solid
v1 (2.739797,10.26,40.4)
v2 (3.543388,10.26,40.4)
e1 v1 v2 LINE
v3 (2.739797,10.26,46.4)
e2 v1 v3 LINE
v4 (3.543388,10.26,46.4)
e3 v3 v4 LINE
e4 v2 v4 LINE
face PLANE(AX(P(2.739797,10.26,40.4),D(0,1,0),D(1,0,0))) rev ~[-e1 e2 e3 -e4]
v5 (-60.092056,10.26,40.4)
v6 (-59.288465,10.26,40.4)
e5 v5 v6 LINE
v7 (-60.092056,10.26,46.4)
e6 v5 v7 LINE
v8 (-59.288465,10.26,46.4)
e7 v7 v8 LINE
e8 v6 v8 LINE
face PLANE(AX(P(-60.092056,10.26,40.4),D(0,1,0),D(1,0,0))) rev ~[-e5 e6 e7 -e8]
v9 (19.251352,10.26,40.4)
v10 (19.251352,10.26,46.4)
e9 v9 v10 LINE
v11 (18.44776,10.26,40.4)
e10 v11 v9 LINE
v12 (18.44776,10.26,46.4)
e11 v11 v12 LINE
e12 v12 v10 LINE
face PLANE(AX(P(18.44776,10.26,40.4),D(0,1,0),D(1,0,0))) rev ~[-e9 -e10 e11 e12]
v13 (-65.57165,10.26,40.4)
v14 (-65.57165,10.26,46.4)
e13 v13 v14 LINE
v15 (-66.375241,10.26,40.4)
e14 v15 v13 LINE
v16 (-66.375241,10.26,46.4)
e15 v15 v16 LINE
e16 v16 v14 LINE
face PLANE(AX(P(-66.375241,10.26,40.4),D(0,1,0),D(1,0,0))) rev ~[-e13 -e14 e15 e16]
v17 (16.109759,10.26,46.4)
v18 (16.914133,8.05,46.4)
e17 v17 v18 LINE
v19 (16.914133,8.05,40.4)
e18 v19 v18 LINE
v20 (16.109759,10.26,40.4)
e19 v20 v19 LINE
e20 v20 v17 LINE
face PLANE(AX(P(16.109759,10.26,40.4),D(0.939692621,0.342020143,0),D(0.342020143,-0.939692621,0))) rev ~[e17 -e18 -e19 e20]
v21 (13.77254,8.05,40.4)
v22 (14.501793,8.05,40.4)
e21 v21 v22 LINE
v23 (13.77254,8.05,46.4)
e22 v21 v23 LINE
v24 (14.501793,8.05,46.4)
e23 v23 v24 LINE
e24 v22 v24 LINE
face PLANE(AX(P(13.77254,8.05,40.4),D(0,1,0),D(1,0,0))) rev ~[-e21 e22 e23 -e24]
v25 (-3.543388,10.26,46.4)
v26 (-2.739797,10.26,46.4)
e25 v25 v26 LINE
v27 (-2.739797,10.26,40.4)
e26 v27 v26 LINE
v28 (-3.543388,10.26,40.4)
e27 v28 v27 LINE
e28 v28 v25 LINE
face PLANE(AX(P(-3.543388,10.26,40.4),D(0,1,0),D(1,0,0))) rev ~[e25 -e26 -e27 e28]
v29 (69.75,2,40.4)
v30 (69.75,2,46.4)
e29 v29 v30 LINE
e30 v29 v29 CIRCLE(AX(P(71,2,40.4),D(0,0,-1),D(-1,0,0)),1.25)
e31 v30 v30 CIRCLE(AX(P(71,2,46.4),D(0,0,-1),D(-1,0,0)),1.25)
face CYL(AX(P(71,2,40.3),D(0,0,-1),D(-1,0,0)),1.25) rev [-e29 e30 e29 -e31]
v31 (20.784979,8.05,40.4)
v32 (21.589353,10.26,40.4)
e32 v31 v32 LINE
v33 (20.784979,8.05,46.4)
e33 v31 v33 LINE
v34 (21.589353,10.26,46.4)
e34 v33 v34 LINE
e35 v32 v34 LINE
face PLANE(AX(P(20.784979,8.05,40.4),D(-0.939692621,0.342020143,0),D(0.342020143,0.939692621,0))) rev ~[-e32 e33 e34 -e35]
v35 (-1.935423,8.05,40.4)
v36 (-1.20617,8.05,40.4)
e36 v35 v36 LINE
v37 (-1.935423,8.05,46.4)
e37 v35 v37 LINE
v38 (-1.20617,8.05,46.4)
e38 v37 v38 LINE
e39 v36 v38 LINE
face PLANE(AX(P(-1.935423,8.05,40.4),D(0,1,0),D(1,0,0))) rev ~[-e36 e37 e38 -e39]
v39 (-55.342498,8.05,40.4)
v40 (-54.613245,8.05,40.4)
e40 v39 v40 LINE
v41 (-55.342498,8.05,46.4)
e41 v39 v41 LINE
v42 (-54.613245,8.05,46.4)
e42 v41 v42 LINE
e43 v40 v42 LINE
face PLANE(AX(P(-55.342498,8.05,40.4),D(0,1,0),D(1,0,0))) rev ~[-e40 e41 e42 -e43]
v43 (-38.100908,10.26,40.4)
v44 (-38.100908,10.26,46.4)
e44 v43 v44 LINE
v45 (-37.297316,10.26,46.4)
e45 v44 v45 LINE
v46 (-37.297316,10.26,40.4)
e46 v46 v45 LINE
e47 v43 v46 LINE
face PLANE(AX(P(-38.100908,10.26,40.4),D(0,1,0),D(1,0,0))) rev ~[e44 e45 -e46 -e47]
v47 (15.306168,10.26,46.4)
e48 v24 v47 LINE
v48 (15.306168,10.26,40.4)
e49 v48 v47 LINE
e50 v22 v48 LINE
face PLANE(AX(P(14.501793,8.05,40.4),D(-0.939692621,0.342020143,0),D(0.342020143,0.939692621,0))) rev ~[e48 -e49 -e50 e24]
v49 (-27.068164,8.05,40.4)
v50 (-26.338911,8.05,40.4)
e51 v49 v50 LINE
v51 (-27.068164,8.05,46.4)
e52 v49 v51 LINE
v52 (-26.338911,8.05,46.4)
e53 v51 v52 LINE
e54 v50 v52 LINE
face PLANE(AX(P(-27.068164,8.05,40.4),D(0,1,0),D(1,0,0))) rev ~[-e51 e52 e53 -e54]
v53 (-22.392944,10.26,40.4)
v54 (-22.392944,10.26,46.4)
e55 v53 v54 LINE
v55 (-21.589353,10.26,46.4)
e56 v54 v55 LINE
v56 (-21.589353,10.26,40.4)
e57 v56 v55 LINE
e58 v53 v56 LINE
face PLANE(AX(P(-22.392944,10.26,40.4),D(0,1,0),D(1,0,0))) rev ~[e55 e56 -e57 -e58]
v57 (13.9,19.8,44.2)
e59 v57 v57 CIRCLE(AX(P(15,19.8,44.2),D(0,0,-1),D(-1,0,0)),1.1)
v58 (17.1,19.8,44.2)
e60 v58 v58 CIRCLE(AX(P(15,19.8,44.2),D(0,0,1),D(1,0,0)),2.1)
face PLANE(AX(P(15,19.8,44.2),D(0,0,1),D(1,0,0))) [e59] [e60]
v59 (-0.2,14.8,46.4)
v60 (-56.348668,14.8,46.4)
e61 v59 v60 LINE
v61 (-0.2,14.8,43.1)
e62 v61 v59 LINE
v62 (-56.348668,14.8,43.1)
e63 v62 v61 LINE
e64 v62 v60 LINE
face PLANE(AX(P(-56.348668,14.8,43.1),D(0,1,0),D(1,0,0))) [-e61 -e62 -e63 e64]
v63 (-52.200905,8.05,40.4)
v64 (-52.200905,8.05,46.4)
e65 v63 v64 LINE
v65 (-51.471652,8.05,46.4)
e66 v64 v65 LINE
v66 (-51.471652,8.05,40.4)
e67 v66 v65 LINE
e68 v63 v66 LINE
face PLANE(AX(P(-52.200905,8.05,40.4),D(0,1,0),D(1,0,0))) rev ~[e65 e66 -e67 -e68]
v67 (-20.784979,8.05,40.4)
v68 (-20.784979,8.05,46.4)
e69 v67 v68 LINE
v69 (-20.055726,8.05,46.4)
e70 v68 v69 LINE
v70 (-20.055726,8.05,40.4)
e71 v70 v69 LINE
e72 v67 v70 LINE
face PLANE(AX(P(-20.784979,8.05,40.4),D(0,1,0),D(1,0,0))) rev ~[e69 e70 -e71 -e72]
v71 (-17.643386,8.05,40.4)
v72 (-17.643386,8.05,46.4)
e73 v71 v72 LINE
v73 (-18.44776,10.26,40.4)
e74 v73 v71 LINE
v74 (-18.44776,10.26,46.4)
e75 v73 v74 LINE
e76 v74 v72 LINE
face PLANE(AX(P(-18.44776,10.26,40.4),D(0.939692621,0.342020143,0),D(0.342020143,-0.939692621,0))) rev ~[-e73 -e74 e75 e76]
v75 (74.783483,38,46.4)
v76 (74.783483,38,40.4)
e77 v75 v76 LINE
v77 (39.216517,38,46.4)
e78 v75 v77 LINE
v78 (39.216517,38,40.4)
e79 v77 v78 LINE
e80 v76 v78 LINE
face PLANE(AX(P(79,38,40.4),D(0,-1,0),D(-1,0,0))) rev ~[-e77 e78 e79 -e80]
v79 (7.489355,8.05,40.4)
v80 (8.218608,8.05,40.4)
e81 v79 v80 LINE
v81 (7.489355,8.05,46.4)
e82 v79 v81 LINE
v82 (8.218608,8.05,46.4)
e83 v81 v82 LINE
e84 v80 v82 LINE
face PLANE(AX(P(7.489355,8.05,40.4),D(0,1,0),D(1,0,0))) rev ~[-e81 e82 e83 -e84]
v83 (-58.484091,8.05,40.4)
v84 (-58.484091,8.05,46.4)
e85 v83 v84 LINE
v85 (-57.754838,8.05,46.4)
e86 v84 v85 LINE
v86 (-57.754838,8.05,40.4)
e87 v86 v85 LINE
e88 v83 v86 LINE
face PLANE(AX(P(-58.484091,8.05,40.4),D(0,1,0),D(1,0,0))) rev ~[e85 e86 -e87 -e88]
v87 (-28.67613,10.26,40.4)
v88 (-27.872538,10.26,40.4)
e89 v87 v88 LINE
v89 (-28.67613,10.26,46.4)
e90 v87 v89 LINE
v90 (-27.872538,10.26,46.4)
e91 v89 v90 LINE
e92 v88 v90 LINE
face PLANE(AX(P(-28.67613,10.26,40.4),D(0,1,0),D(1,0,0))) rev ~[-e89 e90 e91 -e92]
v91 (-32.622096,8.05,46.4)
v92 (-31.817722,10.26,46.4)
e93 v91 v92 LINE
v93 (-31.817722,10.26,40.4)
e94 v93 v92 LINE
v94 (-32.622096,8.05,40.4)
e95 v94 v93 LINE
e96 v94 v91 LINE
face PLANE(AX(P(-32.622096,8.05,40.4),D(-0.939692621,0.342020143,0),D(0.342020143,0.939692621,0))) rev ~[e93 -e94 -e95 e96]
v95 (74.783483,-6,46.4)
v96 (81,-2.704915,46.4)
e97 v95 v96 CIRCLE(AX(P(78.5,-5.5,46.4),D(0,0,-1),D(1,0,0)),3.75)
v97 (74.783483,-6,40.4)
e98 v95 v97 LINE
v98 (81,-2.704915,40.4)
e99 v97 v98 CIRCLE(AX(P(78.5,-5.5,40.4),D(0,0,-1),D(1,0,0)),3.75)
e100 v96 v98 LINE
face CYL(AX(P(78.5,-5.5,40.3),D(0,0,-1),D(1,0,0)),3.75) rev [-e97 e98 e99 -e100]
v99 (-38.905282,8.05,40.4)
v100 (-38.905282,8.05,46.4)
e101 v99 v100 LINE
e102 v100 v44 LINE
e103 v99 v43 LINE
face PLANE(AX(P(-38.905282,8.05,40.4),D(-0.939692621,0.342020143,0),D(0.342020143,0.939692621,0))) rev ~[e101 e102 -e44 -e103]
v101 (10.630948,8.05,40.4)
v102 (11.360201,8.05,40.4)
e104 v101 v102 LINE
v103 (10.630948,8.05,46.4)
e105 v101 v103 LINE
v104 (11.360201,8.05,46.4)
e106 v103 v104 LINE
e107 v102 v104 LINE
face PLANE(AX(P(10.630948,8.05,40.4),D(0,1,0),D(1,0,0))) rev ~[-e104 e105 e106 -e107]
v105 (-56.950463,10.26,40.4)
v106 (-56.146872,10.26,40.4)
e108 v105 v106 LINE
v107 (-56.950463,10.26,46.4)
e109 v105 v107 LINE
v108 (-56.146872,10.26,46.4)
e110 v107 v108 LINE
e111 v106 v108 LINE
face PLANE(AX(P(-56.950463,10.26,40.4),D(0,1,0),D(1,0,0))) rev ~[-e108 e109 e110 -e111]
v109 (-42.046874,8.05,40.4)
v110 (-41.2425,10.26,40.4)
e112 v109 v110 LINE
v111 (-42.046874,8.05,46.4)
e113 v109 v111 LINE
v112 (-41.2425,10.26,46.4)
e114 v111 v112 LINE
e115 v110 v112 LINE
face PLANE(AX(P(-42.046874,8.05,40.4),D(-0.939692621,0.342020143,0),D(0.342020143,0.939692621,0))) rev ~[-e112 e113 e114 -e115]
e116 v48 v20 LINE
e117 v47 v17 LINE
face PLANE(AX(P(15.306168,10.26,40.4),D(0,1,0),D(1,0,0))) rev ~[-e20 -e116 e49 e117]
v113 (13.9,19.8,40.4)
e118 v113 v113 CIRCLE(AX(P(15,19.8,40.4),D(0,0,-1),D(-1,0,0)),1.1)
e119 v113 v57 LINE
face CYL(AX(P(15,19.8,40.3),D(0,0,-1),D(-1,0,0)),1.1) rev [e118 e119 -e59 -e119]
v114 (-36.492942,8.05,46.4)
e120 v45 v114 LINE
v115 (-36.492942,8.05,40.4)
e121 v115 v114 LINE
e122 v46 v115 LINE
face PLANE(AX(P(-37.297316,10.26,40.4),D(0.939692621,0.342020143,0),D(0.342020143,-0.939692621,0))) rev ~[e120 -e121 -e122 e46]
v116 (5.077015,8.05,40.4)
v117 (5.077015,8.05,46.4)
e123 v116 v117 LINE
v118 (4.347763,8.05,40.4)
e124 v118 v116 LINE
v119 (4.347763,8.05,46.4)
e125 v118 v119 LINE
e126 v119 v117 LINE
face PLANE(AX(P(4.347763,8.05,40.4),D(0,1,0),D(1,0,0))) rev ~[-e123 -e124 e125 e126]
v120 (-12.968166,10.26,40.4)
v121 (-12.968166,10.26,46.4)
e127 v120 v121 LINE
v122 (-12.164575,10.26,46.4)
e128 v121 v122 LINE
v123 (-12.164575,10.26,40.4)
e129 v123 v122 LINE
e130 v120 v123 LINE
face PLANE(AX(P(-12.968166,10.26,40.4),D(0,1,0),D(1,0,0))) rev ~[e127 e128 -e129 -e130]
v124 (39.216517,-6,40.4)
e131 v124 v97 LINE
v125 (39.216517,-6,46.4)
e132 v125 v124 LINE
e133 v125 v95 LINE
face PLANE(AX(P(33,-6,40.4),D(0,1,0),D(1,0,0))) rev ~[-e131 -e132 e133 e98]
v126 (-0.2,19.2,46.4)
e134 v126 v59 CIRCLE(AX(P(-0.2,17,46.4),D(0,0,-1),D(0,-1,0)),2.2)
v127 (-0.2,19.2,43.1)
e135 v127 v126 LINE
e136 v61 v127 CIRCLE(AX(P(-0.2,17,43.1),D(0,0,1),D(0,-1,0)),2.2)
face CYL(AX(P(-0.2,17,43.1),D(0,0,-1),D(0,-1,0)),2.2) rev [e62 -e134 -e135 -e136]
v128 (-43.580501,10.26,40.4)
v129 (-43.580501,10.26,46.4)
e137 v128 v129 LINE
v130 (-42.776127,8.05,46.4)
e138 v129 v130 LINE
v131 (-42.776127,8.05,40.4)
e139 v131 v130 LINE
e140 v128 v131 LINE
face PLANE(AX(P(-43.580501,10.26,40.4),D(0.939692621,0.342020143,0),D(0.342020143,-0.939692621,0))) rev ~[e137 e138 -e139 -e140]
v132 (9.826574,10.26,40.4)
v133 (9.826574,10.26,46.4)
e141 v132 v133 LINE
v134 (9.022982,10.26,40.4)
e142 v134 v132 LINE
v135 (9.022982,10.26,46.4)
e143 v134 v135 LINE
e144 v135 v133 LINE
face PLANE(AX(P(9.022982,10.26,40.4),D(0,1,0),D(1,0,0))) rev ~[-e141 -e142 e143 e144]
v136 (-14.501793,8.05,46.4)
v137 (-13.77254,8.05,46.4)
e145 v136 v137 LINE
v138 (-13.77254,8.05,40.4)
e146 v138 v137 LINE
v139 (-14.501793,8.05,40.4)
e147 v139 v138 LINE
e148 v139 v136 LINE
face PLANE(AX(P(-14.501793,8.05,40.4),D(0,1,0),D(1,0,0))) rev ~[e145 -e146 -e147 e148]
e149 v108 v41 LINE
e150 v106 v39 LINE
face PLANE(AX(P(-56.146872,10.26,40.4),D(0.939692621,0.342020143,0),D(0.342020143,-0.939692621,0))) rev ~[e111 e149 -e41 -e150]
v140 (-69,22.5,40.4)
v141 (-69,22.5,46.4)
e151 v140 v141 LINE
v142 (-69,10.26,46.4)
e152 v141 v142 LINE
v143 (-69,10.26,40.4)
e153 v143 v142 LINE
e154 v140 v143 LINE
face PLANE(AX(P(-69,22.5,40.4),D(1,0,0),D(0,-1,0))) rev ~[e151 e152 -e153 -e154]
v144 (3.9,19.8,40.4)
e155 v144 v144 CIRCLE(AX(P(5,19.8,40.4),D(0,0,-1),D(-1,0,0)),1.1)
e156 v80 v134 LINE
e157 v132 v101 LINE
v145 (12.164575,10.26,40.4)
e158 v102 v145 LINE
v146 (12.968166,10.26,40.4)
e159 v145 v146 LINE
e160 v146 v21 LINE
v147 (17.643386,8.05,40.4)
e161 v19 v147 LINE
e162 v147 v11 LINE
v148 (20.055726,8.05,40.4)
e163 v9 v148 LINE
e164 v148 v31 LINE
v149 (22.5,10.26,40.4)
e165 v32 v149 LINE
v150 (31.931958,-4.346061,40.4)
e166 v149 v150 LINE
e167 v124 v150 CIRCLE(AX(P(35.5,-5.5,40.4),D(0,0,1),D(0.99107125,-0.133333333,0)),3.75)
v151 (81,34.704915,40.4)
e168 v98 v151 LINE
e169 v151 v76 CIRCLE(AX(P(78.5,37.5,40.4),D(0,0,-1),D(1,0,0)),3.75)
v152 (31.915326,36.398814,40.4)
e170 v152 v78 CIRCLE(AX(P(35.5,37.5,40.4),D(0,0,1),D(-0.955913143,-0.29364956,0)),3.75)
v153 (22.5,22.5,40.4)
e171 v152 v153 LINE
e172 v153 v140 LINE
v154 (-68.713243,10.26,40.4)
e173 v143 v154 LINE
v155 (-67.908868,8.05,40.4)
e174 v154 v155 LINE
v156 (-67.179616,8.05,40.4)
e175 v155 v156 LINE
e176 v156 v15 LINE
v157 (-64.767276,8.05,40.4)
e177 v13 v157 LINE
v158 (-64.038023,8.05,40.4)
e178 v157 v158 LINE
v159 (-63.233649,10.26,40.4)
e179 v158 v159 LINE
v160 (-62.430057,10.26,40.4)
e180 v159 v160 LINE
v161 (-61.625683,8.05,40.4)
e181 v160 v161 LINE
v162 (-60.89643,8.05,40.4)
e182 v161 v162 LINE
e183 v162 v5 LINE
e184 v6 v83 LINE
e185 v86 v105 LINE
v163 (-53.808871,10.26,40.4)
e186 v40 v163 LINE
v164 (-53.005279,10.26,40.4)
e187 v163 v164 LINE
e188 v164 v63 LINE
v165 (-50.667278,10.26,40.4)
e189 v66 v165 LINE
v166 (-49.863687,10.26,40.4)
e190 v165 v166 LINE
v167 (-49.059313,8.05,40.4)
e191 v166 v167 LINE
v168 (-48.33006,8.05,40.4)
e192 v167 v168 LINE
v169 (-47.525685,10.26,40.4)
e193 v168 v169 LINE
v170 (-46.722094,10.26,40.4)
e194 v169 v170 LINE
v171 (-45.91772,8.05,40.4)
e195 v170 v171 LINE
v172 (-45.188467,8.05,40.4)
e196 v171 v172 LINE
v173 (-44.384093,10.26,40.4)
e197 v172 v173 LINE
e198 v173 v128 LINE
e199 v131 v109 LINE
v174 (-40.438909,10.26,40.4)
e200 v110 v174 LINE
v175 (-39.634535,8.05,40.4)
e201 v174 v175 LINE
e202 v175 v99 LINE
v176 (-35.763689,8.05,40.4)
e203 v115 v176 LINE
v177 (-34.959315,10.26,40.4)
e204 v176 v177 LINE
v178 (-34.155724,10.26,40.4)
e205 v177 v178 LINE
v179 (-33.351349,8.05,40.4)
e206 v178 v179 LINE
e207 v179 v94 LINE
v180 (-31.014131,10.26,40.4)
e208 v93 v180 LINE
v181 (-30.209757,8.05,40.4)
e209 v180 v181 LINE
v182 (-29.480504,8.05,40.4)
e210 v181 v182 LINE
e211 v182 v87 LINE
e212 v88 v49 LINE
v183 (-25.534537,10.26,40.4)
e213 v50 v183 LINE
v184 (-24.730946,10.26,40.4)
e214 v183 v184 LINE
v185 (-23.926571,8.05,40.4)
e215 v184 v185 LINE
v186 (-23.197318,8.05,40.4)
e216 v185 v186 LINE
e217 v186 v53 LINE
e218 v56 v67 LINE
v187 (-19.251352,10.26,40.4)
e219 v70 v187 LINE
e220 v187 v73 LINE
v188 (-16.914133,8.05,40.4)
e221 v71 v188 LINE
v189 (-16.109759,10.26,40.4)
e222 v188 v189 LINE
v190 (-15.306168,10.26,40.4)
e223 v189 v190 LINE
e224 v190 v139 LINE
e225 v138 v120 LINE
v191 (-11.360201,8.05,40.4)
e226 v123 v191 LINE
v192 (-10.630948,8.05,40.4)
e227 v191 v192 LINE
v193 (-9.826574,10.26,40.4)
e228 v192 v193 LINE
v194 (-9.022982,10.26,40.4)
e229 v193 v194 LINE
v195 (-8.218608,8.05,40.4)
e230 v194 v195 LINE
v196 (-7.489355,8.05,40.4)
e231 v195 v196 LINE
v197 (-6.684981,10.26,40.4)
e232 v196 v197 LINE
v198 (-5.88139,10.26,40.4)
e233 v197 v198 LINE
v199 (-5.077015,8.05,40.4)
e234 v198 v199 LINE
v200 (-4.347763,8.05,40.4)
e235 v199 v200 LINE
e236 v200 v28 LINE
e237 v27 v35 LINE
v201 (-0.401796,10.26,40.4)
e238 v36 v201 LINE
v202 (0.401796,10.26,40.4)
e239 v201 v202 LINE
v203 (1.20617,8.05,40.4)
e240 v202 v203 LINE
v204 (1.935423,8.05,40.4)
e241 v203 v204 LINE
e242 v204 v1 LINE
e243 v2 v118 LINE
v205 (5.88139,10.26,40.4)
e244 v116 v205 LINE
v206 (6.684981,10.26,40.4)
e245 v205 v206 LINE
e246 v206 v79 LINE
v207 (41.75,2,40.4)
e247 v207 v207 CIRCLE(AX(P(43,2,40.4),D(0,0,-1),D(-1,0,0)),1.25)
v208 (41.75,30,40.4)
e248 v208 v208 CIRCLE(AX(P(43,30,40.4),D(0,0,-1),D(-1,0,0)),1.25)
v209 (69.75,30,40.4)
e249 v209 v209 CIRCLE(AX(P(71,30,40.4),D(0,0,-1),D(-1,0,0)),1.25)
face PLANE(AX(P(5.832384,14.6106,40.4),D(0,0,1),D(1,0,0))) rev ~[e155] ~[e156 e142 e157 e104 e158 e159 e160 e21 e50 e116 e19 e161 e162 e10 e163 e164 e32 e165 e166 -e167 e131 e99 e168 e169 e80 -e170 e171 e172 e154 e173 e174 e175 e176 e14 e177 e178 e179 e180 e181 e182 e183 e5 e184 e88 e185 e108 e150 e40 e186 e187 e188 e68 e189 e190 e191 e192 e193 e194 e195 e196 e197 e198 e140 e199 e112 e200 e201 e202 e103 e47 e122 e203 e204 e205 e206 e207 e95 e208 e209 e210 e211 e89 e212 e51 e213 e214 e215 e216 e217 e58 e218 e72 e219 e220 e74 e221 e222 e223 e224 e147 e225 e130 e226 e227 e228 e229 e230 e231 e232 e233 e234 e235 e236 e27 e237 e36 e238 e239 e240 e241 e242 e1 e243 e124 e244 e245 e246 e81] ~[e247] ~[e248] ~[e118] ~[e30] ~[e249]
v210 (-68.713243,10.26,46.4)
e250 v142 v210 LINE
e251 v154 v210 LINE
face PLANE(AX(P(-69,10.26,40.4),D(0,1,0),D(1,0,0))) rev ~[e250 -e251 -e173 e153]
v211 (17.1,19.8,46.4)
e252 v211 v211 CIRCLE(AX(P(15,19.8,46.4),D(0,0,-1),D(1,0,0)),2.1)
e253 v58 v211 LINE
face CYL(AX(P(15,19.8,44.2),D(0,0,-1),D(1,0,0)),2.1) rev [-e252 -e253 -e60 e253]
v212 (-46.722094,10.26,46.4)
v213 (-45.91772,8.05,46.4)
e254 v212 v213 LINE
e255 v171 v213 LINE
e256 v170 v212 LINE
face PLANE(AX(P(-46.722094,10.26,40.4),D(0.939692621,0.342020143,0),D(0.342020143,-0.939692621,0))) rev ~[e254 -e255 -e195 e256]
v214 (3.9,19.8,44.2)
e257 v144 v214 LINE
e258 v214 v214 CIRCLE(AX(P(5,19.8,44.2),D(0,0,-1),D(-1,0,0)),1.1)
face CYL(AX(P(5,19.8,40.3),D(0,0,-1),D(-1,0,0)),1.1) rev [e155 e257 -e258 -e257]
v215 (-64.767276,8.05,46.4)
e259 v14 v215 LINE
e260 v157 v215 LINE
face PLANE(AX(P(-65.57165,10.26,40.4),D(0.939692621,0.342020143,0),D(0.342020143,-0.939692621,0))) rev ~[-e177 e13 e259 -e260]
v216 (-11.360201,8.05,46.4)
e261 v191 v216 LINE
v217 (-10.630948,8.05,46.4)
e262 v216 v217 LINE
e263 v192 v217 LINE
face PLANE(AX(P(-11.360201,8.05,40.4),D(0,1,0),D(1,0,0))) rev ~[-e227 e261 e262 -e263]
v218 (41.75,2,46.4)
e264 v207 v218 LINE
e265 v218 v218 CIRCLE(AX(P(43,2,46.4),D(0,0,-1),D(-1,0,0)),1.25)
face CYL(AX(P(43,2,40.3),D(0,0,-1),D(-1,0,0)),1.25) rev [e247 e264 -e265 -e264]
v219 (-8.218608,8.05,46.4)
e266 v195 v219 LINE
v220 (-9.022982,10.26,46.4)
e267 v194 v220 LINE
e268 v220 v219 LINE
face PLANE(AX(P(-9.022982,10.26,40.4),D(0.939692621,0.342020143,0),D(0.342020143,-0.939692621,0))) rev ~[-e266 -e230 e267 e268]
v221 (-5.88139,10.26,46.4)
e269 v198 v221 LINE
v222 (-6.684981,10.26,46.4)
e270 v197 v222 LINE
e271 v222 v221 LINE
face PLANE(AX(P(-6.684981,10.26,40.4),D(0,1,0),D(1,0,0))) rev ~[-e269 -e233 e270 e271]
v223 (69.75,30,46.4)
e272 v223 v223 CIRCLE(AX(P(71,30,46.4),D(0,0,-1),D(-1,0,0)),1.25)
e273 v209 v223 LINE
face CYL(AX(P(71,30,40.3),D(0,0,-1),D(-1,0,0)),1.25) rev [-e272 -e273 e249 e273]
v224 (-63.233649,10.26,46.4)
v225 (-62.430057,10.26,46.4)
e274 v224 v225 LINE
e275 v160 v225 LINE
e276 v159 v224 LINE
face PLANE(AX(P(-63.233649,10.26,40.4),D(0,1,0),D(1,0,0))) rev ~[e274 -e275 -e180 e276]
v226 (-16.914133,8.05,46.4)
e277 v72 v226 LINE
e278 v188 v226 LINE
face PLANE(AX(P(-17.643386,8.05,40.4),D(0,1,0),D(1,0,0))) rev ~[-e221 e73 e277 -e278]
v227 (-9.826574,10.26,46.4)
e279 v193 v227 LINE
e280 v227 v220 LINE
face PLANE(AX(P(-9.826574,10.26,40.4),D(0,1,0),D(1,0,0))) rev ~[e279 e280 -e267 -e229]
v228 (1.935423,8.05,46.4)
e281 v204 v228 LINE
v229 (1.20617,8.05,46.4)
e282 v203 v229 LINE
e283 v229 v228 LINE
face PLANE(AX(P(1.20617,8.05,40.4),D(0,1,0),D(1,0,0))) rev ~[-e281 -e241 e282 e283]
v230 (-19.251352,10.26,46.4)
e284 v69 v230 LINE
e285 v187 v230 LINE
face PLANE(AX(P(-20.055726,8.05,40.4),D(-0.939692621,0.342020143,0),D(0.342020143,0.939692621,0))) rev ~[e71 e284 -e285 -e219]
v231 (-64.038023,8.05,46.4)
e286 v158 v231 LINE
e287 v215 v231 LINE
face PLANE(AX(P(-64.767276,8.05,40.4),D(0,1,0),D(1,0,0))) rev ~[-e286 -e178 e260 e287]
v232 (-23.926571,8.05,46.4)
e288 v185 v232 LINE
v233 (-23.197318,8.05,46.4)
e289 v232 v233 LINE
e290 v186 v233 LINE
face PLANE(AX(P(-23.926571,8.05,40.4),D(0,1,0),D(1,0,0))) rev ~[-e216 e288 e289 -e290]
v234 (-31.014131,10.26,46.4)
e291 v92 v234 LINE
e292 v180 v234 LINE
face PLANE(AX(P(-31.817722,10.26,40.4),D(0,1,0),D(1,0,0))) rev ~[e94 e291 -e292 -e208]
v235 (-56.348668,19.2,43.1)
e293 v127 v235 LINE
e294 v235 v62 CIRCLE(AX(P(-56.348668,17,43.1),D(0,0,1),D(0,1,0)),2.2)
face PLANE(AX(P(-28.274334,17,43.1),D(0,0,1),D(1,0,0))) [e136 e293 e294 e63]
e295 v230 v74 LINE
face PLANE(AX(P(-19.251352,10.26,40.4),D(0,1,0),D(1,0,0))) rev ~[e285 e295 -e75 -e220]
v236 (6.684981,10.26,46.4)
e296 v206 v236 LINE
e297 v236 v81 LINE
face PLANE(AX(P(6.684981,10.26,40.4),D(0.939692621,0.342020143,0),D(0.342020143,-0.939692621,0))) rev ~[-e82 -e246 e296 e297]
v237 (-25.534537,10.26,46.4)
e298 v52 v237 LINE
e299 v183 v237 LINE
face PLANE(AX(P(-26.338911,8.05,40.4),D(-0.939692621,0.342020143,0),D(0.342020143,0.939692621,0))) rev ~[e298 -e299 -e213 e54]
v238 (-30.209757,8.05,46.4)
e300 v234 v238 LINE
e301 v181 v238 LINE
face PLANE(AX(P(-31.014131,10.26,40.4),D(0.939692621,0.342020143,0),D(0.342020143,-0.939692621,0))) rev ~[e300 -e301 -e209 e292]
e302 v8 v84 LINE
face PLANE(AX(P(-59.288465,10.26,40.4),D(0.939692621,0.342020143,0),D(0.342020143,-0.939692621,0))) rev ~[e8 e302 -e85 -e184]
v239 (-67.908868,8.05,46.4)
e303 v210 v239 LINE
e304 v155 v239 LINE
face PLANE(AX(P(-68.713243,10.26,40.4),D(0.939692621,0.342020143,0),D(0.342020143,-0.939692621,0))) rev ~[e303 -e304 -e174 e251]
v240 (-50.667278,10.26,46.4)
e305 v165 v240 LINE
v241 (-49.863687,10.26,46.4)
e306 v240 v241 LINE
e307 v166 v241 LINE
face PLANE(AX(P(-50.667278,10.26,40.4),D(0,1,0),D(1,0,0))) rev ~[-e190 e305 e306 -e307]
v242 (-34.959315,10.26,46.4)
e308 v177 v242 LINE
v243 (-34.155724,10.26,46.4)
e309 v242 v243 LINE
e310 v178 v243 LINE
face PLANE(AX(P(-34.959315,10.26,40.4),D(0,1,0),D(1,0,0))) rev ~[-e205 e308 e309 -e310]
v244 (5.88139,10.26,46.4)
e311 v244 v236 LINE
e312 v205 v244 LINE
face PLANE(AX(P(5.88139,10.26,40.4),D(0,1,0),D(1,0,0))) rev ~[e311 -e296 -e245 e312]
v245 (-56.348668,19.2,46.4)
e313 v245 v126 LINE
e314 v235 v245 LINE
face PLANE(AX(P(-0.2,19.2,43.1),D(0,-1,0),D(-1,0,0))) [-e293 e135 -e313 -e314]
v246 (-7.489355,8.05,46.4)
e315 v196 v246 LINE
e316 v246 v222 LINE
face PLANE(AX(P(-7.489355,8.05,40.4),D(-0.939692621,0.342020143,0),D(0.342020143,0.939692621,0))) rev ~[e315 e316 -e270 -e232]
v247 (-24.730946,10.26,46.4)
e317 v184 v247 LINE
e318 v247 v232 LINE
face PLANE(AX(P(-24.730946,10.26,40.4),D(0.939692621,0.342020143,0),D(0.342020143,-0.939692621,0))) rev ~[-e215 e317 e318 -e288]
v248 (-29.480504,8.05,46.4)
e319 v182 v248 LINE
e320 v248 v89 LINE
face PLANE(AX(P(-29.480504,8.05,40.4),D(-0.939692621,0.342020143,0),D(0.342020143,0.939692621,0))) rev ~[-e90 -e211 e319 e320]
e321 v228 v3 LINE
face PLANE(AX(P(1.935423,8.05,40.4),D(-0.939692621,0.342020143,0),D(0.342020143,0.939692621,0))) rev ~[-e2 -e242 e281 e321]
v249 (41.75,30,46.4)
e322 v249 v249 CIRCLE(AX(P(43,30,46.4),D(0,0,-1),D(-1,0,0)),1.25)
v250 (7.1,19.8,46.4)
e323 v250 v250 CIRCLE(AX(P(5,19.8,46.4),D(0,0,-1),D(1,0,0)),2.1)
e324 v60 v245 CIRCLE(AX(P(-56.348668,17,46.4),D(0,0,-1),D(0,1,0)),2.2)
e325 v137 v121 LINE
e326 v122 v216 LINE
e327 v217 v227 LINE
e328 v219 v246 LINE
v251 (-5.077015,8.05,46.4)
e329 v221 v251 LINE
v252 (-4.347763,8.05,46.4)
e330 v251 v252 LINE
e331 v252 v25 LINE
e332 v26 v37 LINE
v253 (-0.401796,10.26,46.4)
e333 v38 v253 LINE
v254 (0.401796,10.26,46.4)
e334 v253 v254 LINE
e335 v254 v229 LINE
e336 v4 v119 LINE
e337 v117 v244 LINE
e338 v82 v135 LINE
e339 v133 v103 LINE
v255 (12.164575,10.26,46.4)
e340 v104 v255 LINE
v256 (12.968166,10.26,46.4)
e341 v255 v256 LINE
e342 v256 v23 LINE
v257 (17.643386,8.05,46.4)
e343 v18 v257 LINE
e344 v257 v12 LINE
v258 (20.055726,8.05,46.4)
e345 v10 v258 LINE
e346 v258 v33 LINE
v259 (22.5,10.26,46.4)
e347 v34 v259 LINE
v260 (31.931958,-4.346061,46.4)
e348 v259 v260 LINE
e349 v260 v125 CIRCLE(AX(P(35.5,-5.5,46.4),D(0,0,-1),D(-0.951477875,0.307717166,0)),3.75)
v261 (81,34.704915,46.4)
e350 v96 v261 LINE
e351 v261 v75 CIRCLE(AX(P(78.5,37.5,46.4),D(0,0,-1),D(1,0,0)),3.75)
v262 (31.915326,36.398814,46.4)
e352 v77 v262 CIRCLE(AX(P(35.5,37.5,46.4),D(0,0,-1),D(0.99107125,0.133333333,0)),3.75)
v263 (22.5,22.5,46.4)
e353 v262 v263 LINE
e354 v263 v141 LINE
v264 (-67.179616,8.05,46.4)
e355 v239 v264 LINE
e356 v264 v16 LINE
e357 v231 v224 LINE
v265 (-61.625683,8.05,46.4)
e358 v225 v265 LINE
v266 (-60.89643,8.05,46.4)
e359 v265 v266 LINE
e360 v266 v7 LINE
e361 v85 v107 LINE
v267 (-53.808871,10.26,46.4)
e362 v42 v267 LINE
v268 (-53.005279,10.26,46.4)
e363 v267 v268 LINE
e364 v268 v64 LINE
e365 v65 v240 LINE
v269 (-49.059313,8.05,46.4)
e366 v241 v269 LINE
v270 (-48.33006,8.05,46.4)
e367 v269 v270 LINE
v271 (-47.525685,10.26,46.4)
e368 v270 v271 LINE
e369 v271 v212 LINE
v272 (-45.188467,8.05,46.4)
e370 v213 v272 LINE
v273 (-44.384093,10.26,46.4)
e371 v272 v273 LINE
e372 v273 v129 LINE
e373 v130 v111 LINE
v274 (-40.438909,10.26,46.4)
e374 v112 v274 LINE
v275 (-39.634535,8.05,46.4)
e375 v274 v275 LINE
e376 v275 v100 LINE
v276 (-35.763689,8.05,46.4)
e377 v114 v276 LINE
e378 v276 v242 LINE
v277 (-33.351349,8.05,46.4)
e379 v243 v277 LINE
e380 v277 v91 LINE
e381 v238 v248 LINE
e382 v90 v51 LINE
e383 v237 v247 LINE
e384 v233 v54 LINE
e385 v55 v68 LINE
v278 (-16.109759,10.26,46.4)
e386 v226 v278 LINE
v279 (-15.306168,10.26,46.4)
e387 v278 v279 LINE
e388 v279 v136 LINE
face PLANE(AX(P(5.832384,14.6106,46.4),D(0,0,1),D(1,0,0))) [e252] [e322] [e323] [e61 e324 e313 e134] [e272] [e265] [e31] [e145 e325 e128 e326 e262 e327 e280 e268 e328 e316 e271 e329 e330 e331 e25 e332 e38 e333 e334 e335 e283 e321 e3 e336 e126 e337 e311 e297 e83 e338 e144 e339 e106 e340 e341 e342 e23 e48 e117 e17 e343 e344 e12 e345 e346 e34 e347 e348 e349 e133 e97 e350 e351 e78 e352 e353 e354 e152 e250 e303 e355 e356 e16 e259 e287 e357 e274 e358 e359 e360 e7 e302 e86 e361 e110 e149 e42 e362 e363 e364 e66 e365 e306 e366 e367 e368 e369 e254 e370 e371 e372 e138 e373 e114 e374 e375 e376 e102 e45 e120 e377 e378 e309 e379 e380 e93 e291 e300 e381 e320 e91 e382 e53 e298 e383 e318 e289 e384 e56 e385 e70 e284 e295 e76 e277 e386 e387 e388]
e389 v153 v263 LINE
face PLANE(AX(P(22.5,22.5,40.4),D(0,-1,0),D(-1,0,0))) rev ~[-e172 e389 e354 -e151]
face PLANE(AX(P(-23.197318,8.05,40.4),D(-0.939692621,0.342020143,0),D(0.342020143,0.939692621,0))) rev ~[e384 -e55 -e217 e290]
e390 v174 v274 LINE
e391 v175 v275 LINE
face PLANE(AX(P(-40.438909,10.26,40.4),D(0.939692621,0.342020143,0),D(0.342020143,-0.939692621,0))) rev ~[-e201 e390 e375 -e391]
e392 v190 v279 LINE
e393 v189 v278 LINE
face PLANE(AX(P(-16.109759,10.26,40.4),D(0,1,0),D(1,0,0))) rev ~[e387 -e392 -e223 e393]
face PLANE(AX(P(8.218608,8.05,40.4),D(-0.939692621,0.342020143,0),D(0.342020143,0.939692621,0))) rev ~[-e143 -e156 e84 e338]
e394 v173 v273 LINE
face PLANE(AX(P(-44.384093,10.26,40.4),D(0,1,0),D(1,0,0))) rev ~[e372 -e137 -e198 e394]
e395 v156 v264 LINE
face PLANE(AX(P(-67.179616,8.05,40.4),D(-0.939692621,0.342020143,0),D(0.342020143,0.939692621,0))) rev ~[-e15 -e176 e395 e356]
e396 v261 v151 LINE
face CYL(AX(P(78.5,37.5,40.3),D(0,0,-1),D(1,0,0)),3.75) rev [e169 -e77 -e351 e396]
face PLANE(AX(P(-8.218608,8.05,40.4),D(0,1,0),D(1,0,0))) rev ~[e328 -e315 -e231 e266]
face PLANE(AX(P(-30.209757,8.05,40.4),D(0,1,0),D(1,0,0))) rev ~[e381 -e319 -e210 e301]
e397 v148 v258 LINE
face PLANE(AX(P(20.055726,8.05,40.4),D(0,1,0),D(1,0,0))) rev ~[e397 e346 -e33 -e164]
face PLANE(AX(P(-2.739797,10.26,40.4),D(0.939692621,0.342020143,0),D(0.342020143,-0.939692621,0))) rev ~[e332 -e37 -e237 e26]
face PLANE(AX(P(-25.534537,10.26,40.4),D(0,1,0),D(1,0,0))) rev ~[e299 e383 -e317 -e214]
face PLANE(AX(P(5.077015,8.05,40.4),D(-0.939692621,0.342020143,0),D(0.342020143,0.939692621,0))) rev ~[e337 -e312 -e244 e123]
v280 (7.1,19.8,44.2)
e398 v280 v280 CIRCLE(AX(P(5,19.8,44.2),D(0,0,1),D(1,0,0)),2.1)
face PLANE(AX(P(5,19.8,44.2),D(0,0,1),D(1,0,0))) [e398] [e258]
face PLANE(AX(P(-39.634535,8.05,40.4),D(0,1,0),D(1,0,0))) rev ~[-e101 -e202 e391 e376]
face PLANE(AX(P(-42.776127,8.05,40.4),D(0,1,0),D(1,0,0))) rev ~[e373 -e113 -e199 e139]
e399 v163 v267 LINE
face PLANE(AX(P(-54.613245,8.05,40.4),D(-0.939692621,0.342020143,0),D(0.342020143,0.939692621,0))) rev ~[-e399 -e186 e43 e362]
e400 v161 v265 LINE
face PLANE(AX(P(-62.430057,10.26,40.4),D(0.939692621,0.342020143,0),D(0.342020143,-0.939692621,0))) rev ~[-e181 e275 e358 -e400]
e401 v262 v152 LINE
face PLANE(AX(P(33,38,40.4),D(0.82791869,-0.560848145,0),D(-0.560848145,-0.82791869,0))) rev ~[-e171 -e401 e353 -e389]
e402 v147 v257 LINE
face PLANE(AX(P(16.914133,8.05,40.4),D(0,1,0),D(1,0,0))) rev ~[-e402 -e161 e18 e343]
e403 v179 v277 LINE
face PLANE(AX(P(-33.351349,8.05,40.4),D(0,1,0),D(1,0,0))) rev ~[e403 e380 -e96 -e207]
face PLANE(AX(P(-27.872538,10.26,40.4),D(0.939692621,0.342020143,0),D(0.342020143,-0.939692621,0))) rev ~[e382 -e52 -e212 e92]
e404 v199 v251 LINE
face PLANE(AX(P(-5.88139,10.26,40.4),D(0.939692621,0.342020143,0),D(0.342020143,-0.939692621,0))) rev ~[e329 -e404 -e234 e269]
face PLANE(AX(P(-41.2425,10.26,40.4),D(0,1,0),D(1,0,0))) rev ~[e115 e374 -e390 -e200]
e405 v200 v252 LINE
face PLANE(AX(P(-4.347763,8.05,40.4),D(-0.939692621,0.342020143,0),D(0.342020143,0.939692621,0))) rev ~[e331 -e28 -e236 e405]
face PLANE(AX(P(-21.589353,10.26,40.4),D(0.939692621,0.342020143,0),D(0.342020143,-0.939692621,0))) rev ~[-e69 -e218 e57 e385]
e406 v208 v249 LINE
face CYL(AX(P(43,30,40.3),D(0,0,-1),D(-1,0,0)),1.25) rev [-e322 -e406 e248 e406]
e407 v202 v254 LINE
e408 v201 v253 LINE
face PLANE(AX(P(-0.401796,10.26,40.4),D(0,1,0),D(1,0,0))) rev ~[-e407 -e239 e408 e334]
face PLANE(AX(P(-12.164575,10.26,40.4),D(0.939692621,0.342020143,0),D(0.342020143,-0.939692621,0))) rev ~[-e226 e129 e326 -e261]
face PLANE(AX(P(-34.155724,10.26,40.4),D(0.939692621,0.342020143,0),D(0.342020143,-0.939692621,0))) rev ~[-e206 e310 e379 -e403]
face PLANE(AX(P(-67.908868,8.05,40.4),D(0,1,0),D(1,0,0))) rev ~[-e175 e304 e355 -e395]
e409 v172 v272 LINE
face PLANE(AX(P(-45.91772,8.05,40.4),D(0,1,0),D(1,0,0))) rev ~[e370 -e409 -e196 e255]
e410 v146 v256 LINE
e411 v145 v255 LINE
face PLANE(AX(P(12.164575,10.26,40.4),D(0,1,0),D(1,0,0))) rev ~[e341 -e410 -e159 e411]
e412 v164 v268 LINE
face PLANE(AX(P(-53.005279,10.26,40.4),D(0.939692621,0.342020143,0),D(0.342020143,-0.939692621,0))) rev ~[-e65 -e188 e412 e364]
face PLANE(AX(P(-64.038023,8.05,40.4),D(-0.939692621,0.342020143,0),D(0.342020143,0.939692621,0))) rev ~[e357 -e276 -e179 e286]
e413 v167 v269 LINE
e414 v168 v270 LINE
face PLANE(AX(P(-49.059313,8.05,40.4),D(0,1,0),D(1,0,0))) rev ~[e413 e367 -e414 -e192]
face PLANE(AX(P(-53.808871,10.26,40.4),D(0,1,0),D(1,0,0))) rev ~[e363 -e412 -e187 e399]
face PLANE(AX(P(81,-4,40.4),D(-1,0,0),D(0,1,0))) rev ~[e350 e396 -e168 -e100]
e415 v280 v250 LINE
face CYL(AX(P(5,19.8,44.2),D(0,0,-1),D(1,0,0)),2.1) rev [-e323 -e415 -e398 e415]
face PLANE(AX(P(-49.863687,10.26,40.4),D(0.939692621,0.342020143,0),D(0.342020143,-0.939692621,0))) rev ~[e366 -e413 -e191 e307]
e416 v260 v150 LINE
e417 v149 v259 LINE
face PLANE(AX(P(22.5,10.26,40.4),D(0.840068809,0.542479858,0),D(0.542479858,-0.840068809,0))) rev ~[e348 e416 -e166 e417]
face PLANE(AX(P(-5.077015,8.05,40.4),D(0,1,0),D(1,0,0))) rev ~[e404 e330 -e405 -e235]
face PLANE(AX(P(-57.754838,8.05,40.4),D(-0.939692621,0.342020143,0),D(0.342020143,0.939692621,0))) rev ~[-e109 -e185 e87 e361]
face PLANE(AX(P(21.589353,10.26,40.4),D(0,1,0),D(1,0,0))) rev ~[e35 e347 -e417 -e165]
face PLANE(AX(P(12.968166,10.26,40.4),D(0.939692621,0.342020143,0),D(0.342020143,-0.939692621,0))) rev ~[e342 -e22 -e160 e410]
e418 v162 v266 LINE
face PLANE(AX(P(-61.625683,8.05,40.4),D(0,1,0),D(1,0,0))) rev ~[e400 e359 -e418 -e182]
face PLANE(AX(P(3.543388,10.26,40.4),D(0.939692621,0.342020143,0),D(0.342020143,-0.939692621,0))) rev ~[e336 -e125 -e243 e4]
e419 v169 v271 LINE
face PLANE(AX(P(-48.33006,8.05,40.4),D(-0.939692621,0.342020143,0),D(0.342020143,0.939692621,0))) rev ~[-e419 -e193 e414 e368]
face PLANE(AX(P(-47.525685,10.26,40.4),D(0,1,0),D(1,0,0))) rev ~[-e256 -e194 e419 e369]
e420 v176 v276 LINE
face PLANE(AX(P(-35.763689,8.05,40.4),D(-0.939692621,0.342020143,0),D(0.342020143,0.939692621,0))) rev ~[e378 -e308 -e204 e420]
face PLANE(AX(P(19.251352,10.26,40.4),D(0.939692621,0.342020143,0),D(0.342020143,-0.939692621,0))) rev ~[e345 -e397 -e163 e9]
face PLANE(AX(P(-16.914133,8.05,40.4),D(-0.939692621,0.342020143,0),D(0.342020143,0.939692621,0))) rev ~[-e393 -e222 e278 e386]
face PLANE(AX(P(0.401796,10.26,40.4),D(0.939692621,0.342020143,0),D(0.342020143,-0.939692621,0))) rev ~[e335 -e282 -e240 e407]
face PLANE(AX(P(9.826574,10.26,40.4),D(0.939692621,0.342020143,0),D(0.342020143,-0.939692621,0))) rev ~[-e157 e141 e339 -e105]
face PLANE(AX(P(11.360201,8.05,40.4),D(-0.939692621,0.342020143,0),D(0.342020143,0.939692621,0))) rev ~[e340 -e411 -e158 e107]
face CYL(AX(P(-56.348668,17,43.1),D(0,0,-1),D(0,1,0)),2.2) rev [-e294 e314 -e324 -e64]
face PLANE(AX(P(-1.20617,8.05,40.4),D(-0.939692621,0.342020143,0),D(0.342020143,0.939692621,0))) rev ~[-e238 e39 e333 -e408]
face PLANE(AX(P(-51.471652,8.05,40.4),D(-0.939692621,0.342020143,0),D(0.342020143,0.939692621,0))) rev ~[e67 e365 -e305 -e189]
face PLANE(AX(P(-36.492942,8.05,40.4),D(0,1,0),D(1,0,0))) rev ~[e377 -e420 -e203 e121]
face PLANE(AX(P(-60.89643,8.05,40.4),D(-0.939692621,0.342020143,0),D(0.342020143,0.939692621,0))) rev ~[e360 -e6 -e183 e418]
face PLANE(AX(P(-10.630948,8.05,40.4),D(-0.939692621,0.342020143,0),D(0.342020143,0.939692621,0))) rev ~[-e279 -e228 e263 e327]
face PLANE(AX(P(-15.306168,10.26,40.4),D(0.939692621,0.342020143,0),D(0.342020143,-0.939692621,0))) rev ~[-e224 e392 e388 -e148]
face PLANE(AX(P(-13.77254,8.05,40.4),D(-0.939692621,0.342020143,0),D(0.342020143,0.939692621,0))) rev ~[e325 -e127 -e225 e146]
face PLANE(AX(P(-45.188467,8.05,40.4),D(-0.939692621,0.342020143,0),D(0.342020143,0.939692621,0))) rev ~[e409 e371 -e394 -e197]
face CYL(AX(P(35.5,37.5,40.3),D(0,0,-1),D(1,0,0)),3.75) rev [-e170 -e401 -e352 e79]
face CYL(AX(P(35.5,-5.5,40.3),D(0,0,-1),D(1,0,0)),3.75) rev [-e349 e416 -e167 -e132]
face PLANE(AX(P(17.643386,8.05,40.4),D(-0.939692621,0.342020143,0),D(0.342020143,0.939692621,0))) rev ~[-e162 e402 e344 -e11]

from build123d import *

# Parameters (mm, degrees)
M1_START                                       = 40.4
M1_RACK_WITH_INTEGRAL_48_X_44_MM_SEAT_FL_DEPTH = 6
F_56_55_START                                  = 43.1
F_56_55_MM_STOP_SLOT_DEPTH                     = 3.4
FOUR_START                                     = 40.3
FOUR_M3_SEAT_PILOTS_28_X_28_PITCH_PROF_R       = 1.25
FOUR_M3_SEAT_PILOTS_28_X_28_PITCH_DEPTH        = 6.2
SLIDE_START                                    = 40.3
SLIDE_FASTENER_BORES_PROFILE_R                 = 1.1
SLIDE_FASTENER_BORES_DEPTH                     = 6.2
SLIDE_START_2                                  = 44.2
SLIDE_SCREW_RECESSES_PROFILE_R                 = 2.1
SLIDE_SCREW_RECESSES_DEPTH                     = 2.3
RADAR_START                                    = 40.3
RADAR_MOUNTING_SCREW_TOOL_ACCESS_PROFILE_R     = 3.75
RADAR_MOUNTING_SCREW_TOOL_ACCESS_DEPTH         = 6.2


with BuildPart() as part:
    # M1 rack with integral 48 x 44 mm sea 2 → M1 rack with integral 48 x 44 mm seat fl (new body)
    with BuildSketch(Plane.XY.offset(M1_START)):
        Polygon((-69, 10.26), (-68.713242711, 10.26), (-67.908868493, 8.05), (-67.179615611, 8.05), (-66.375241394, 10.26), (-65.571650057, 10.26), (-64.767275839, 8.05), (-64.038022958, 8.05), (-63.23364874, 10.26), (-62.430057404, 10.26), (-61.625683186, 8.05), (-60.896430304, 8.05), (-60.092056086, 10.26), (-59.28846475, 10.26), (-58.484090532, 8.05), (-57.754837651, 8.05), (-56.950463433, 10.26), (-56.146872096, 10.26), (-55.342497879, 8.05), (-54.613244997, 8.05), (-53.808870779, 10.26), (-53.005279443, 10.26), (-52.200905225, 8.05), (-51.471652343, 8.05), (-50.667278126, 10.26), (-49.863686789, 10.26), (-49.059312572, 8.05), (-48.33005969, 8.05), (-47.525685472, 10.26), (-46.722094136, 10.26), (-45.917719918, 8.05), (-45.188467036, 8.05), (-44.384092819, 10.26), (-43.580501482, 10.26), (-42.776127264, 8.05), (-42.046874383, 8.05), (-41.242500165, 10.26), (-40.438908828, 10.26), (-39.634534611, 8.05), (-38.905281729, 8.05), (-38.100907511, 10.26), (-37.297316175, 10.26), (-36.492941957, 8.05), (-35.763689075, 8.05), (-34.959314858, 10.26), (-34.155723521, 10.26), (-33.351349304, 8.05), (-32.622096422, 8.05), (-31.817722204, 10.26), (-31.014130868, 10.26), (-30.20975665, 8.05), (-29.480503768, 8.05), (-28.676129551, 10.26), (-27.872538214, 10.26), (-27.068163996, 8.05), (-26.338911115, 8.05), (-25.534536897, 10.26), (-24.730945561, 10.26), (-23.926571343, 8.05), (-23.197318461, 8.05), (-22.392944243, 10.26), (-21.589352907, 10.26), (-20.784978689, 8.05), (-20.055725808, 8.05), (-19.25135159, 10.26), (-18.447760253, 10.26), (-17.643386036, 8.05), (-16.914133154, 8.05), (-16.109758936, 10.26), (-15.3061676, 10.26), (-14.501793382, 8.05), (-13.7725405, 8.05), (-12.968166283, 10.26), (-12.164574946, 10.26), (-11.360200728, 8.05), (-10.630947847, 8.05), (-9.826573629, 10.26), (-9.022982293, 10.26), (-8.218608075, 8.05), (-7.489355193, 8.05), (-6.684980975, 10.26), (-5.881389639, 10.26), (-5.077015421, 8.05), (-4.34776254, 8.05), (-3.543388322, 10.26), (-2.739796985, 10.26), (-1.935422768, 8.05), (-1.206169886, 8.05), (-0.401795668, 10.26), (0.401795668, 10.26), (1.206169886, 8.05), (1.935422768, 8.05), (2.739796985, 10.26), (3.543388322, 10.26), (4.34776254, 8.05), (5.077015421, 8.05), (5.881389639, 10.26), (6.684980975, 10.26), (7.489355193, 8.05), (8.218608075, 8.05), (9.022982293, 10.26), (9.826573629, 10.26), (10.630947847, 8.05), (11.360200728, 8.05), (12.164574946, 10.26), (12.968166283, 10.26), (13.7725405, 8.05), (14.501793382, 8.05), (15.3061676, 10.26), (16.109758936, 10.26), (16.914133154, 8.05), (17.643386036, 8.05), (18.447760253, 10.26), (19.25135159, 10.26), (20.055725808, 8.05), (20.784978689, 8.05), (21.589352907, 10.26), (22.5, 10.26), (33, -6), (79, -6), (81, -4), (81, 36), (79, 38), (33, 38), (22.5, 22.5), (-69, 22.5), align=None)
    extrude(amount=M1_RACK_WITH_INTEGRAL_48_X_44_MM_SEAT_FL_DEPTH)

    # 56.55 mm stop slot profile → 56.55 mm stop slot (cut)
    with BuildSketch(Plane.XY.offset(F_56_55_START)):
        with BuildLine():
            Line((-56.348667765, 14.8), (-0.2, 14.8))
            ThreePointArc((-0.2, 14.8), (2, 17), (-0.2, 19.2))
            Line((-0.2, 19.2), (-56.348667765, 19.2))
            ThreePointArc((-56.348667765, 19.2), (-58.548667765, 17), (-56.348667765, 14.8))
        make_face()
    extrude(amount=F_56_55_MM_STOP_SLOT_DEPTH, mode=Mode.SUBTRACT)

    # Four M3 seat pilots - 28 x 28 pitch profile → Four M3 seat pilots - 28 x 28 pitch (cut)
    with BuildSketch(Plane.XY.offset(FOUR_START)):
        with Locations(Location((43, 2, 0), (0, 0, 180))):
            Circle(FOUR_M3_SEAT_PILOTS_28_X_28_PITCH_PROF_R)
        with Locations(Location((43, 30, 0), (0, 0, 180))):
            Circle(FOUR_M3_SEAT_PILOTS_28_X_28_PITCH_PROF_R)
        with Locations(Location((71, 2, 0), (0, 0, 180))):
            Circle(FOUR_M3_SEAT_PILOTS_28_X_28_PITCH_PROF_R)
        with Locations(Location((71, 30, 0), (0, 0, 180))):
            Circle(FOUR_M3_SEAT_PILOTS_28_X_28_PITCH_PROF_R)
    extrude(amount=FOUR_M3_SEAT_PILOTS_28_X_28_PITCH_DEPTH, mode=Mode.SUBTRACT)

    # Slide fastener bores profile → Slide fastener bores (cut)
    with BuildSketch(Plane.XY.offset(SLIDE_START)):
        with Locations(Location((5, 19.8, 0), (0, 0, 180))):
            Circle(SLIDE_FASTENER_BORES_PROFILE_R)
        with Locations(Location((15, 19.8, 0), (0, 0, 180))):
            Circle(SLIDE_FASTENER_BORES_PROFILE_R)
    extrude(amount=SLIDE_FASTENER_BORES_DEPTH, mode=Mode.SUBTRACT)

    # Slide screw recesses profile → Slide screw recesses (cut)
    with BuildSketch(Plane.XY.offset(SLIDE_START_2)):
        with Locations((5, 19.8)):
            Circle(SLIDE_SCREW_RECESSES_PROFILE_R)
        with Locations((15, 19.8)):
            Circle(SLIDE_SCREW_RECESSES_PROFILE_R)
    extrude(amount=SLIDE_SCREW_RECESSES_DEPTH, mode=Mode.SUBTRACT)

    # Radar mounting screw tool access profile → Radar mounting screw tool access (cut)
    with BuildSketch(Plane.XY.offset(RADAR_START)):
        with Locations((35.5, -5.5)):
            Circle(RADAR_MOUNTING_SCREW_TOOL_ACCESS_PROFILE_R)
        with Locations((35.5, 37.5)):
            Circle(RADAR_MOUNTING_SCREW_TOOL_ACCESS_PROFILE_R)
        with Locations((78.5, -5.5)):
            Circle(RADAR_MOUNTING_SCREW_TOOL_ACCESS_PROFILE_R)
        with Locations((78.5, 37.5)):
            Circle(RADAR_MOUNTING_SCREW_TOOL_ACCESS_PROFILE_R)
    extrude(amount=RADAR_MOUNTING_SCREW_TOOL_ACCESS_DEPTH, mode=Mode.SUBTRACT)


solid = part.part
